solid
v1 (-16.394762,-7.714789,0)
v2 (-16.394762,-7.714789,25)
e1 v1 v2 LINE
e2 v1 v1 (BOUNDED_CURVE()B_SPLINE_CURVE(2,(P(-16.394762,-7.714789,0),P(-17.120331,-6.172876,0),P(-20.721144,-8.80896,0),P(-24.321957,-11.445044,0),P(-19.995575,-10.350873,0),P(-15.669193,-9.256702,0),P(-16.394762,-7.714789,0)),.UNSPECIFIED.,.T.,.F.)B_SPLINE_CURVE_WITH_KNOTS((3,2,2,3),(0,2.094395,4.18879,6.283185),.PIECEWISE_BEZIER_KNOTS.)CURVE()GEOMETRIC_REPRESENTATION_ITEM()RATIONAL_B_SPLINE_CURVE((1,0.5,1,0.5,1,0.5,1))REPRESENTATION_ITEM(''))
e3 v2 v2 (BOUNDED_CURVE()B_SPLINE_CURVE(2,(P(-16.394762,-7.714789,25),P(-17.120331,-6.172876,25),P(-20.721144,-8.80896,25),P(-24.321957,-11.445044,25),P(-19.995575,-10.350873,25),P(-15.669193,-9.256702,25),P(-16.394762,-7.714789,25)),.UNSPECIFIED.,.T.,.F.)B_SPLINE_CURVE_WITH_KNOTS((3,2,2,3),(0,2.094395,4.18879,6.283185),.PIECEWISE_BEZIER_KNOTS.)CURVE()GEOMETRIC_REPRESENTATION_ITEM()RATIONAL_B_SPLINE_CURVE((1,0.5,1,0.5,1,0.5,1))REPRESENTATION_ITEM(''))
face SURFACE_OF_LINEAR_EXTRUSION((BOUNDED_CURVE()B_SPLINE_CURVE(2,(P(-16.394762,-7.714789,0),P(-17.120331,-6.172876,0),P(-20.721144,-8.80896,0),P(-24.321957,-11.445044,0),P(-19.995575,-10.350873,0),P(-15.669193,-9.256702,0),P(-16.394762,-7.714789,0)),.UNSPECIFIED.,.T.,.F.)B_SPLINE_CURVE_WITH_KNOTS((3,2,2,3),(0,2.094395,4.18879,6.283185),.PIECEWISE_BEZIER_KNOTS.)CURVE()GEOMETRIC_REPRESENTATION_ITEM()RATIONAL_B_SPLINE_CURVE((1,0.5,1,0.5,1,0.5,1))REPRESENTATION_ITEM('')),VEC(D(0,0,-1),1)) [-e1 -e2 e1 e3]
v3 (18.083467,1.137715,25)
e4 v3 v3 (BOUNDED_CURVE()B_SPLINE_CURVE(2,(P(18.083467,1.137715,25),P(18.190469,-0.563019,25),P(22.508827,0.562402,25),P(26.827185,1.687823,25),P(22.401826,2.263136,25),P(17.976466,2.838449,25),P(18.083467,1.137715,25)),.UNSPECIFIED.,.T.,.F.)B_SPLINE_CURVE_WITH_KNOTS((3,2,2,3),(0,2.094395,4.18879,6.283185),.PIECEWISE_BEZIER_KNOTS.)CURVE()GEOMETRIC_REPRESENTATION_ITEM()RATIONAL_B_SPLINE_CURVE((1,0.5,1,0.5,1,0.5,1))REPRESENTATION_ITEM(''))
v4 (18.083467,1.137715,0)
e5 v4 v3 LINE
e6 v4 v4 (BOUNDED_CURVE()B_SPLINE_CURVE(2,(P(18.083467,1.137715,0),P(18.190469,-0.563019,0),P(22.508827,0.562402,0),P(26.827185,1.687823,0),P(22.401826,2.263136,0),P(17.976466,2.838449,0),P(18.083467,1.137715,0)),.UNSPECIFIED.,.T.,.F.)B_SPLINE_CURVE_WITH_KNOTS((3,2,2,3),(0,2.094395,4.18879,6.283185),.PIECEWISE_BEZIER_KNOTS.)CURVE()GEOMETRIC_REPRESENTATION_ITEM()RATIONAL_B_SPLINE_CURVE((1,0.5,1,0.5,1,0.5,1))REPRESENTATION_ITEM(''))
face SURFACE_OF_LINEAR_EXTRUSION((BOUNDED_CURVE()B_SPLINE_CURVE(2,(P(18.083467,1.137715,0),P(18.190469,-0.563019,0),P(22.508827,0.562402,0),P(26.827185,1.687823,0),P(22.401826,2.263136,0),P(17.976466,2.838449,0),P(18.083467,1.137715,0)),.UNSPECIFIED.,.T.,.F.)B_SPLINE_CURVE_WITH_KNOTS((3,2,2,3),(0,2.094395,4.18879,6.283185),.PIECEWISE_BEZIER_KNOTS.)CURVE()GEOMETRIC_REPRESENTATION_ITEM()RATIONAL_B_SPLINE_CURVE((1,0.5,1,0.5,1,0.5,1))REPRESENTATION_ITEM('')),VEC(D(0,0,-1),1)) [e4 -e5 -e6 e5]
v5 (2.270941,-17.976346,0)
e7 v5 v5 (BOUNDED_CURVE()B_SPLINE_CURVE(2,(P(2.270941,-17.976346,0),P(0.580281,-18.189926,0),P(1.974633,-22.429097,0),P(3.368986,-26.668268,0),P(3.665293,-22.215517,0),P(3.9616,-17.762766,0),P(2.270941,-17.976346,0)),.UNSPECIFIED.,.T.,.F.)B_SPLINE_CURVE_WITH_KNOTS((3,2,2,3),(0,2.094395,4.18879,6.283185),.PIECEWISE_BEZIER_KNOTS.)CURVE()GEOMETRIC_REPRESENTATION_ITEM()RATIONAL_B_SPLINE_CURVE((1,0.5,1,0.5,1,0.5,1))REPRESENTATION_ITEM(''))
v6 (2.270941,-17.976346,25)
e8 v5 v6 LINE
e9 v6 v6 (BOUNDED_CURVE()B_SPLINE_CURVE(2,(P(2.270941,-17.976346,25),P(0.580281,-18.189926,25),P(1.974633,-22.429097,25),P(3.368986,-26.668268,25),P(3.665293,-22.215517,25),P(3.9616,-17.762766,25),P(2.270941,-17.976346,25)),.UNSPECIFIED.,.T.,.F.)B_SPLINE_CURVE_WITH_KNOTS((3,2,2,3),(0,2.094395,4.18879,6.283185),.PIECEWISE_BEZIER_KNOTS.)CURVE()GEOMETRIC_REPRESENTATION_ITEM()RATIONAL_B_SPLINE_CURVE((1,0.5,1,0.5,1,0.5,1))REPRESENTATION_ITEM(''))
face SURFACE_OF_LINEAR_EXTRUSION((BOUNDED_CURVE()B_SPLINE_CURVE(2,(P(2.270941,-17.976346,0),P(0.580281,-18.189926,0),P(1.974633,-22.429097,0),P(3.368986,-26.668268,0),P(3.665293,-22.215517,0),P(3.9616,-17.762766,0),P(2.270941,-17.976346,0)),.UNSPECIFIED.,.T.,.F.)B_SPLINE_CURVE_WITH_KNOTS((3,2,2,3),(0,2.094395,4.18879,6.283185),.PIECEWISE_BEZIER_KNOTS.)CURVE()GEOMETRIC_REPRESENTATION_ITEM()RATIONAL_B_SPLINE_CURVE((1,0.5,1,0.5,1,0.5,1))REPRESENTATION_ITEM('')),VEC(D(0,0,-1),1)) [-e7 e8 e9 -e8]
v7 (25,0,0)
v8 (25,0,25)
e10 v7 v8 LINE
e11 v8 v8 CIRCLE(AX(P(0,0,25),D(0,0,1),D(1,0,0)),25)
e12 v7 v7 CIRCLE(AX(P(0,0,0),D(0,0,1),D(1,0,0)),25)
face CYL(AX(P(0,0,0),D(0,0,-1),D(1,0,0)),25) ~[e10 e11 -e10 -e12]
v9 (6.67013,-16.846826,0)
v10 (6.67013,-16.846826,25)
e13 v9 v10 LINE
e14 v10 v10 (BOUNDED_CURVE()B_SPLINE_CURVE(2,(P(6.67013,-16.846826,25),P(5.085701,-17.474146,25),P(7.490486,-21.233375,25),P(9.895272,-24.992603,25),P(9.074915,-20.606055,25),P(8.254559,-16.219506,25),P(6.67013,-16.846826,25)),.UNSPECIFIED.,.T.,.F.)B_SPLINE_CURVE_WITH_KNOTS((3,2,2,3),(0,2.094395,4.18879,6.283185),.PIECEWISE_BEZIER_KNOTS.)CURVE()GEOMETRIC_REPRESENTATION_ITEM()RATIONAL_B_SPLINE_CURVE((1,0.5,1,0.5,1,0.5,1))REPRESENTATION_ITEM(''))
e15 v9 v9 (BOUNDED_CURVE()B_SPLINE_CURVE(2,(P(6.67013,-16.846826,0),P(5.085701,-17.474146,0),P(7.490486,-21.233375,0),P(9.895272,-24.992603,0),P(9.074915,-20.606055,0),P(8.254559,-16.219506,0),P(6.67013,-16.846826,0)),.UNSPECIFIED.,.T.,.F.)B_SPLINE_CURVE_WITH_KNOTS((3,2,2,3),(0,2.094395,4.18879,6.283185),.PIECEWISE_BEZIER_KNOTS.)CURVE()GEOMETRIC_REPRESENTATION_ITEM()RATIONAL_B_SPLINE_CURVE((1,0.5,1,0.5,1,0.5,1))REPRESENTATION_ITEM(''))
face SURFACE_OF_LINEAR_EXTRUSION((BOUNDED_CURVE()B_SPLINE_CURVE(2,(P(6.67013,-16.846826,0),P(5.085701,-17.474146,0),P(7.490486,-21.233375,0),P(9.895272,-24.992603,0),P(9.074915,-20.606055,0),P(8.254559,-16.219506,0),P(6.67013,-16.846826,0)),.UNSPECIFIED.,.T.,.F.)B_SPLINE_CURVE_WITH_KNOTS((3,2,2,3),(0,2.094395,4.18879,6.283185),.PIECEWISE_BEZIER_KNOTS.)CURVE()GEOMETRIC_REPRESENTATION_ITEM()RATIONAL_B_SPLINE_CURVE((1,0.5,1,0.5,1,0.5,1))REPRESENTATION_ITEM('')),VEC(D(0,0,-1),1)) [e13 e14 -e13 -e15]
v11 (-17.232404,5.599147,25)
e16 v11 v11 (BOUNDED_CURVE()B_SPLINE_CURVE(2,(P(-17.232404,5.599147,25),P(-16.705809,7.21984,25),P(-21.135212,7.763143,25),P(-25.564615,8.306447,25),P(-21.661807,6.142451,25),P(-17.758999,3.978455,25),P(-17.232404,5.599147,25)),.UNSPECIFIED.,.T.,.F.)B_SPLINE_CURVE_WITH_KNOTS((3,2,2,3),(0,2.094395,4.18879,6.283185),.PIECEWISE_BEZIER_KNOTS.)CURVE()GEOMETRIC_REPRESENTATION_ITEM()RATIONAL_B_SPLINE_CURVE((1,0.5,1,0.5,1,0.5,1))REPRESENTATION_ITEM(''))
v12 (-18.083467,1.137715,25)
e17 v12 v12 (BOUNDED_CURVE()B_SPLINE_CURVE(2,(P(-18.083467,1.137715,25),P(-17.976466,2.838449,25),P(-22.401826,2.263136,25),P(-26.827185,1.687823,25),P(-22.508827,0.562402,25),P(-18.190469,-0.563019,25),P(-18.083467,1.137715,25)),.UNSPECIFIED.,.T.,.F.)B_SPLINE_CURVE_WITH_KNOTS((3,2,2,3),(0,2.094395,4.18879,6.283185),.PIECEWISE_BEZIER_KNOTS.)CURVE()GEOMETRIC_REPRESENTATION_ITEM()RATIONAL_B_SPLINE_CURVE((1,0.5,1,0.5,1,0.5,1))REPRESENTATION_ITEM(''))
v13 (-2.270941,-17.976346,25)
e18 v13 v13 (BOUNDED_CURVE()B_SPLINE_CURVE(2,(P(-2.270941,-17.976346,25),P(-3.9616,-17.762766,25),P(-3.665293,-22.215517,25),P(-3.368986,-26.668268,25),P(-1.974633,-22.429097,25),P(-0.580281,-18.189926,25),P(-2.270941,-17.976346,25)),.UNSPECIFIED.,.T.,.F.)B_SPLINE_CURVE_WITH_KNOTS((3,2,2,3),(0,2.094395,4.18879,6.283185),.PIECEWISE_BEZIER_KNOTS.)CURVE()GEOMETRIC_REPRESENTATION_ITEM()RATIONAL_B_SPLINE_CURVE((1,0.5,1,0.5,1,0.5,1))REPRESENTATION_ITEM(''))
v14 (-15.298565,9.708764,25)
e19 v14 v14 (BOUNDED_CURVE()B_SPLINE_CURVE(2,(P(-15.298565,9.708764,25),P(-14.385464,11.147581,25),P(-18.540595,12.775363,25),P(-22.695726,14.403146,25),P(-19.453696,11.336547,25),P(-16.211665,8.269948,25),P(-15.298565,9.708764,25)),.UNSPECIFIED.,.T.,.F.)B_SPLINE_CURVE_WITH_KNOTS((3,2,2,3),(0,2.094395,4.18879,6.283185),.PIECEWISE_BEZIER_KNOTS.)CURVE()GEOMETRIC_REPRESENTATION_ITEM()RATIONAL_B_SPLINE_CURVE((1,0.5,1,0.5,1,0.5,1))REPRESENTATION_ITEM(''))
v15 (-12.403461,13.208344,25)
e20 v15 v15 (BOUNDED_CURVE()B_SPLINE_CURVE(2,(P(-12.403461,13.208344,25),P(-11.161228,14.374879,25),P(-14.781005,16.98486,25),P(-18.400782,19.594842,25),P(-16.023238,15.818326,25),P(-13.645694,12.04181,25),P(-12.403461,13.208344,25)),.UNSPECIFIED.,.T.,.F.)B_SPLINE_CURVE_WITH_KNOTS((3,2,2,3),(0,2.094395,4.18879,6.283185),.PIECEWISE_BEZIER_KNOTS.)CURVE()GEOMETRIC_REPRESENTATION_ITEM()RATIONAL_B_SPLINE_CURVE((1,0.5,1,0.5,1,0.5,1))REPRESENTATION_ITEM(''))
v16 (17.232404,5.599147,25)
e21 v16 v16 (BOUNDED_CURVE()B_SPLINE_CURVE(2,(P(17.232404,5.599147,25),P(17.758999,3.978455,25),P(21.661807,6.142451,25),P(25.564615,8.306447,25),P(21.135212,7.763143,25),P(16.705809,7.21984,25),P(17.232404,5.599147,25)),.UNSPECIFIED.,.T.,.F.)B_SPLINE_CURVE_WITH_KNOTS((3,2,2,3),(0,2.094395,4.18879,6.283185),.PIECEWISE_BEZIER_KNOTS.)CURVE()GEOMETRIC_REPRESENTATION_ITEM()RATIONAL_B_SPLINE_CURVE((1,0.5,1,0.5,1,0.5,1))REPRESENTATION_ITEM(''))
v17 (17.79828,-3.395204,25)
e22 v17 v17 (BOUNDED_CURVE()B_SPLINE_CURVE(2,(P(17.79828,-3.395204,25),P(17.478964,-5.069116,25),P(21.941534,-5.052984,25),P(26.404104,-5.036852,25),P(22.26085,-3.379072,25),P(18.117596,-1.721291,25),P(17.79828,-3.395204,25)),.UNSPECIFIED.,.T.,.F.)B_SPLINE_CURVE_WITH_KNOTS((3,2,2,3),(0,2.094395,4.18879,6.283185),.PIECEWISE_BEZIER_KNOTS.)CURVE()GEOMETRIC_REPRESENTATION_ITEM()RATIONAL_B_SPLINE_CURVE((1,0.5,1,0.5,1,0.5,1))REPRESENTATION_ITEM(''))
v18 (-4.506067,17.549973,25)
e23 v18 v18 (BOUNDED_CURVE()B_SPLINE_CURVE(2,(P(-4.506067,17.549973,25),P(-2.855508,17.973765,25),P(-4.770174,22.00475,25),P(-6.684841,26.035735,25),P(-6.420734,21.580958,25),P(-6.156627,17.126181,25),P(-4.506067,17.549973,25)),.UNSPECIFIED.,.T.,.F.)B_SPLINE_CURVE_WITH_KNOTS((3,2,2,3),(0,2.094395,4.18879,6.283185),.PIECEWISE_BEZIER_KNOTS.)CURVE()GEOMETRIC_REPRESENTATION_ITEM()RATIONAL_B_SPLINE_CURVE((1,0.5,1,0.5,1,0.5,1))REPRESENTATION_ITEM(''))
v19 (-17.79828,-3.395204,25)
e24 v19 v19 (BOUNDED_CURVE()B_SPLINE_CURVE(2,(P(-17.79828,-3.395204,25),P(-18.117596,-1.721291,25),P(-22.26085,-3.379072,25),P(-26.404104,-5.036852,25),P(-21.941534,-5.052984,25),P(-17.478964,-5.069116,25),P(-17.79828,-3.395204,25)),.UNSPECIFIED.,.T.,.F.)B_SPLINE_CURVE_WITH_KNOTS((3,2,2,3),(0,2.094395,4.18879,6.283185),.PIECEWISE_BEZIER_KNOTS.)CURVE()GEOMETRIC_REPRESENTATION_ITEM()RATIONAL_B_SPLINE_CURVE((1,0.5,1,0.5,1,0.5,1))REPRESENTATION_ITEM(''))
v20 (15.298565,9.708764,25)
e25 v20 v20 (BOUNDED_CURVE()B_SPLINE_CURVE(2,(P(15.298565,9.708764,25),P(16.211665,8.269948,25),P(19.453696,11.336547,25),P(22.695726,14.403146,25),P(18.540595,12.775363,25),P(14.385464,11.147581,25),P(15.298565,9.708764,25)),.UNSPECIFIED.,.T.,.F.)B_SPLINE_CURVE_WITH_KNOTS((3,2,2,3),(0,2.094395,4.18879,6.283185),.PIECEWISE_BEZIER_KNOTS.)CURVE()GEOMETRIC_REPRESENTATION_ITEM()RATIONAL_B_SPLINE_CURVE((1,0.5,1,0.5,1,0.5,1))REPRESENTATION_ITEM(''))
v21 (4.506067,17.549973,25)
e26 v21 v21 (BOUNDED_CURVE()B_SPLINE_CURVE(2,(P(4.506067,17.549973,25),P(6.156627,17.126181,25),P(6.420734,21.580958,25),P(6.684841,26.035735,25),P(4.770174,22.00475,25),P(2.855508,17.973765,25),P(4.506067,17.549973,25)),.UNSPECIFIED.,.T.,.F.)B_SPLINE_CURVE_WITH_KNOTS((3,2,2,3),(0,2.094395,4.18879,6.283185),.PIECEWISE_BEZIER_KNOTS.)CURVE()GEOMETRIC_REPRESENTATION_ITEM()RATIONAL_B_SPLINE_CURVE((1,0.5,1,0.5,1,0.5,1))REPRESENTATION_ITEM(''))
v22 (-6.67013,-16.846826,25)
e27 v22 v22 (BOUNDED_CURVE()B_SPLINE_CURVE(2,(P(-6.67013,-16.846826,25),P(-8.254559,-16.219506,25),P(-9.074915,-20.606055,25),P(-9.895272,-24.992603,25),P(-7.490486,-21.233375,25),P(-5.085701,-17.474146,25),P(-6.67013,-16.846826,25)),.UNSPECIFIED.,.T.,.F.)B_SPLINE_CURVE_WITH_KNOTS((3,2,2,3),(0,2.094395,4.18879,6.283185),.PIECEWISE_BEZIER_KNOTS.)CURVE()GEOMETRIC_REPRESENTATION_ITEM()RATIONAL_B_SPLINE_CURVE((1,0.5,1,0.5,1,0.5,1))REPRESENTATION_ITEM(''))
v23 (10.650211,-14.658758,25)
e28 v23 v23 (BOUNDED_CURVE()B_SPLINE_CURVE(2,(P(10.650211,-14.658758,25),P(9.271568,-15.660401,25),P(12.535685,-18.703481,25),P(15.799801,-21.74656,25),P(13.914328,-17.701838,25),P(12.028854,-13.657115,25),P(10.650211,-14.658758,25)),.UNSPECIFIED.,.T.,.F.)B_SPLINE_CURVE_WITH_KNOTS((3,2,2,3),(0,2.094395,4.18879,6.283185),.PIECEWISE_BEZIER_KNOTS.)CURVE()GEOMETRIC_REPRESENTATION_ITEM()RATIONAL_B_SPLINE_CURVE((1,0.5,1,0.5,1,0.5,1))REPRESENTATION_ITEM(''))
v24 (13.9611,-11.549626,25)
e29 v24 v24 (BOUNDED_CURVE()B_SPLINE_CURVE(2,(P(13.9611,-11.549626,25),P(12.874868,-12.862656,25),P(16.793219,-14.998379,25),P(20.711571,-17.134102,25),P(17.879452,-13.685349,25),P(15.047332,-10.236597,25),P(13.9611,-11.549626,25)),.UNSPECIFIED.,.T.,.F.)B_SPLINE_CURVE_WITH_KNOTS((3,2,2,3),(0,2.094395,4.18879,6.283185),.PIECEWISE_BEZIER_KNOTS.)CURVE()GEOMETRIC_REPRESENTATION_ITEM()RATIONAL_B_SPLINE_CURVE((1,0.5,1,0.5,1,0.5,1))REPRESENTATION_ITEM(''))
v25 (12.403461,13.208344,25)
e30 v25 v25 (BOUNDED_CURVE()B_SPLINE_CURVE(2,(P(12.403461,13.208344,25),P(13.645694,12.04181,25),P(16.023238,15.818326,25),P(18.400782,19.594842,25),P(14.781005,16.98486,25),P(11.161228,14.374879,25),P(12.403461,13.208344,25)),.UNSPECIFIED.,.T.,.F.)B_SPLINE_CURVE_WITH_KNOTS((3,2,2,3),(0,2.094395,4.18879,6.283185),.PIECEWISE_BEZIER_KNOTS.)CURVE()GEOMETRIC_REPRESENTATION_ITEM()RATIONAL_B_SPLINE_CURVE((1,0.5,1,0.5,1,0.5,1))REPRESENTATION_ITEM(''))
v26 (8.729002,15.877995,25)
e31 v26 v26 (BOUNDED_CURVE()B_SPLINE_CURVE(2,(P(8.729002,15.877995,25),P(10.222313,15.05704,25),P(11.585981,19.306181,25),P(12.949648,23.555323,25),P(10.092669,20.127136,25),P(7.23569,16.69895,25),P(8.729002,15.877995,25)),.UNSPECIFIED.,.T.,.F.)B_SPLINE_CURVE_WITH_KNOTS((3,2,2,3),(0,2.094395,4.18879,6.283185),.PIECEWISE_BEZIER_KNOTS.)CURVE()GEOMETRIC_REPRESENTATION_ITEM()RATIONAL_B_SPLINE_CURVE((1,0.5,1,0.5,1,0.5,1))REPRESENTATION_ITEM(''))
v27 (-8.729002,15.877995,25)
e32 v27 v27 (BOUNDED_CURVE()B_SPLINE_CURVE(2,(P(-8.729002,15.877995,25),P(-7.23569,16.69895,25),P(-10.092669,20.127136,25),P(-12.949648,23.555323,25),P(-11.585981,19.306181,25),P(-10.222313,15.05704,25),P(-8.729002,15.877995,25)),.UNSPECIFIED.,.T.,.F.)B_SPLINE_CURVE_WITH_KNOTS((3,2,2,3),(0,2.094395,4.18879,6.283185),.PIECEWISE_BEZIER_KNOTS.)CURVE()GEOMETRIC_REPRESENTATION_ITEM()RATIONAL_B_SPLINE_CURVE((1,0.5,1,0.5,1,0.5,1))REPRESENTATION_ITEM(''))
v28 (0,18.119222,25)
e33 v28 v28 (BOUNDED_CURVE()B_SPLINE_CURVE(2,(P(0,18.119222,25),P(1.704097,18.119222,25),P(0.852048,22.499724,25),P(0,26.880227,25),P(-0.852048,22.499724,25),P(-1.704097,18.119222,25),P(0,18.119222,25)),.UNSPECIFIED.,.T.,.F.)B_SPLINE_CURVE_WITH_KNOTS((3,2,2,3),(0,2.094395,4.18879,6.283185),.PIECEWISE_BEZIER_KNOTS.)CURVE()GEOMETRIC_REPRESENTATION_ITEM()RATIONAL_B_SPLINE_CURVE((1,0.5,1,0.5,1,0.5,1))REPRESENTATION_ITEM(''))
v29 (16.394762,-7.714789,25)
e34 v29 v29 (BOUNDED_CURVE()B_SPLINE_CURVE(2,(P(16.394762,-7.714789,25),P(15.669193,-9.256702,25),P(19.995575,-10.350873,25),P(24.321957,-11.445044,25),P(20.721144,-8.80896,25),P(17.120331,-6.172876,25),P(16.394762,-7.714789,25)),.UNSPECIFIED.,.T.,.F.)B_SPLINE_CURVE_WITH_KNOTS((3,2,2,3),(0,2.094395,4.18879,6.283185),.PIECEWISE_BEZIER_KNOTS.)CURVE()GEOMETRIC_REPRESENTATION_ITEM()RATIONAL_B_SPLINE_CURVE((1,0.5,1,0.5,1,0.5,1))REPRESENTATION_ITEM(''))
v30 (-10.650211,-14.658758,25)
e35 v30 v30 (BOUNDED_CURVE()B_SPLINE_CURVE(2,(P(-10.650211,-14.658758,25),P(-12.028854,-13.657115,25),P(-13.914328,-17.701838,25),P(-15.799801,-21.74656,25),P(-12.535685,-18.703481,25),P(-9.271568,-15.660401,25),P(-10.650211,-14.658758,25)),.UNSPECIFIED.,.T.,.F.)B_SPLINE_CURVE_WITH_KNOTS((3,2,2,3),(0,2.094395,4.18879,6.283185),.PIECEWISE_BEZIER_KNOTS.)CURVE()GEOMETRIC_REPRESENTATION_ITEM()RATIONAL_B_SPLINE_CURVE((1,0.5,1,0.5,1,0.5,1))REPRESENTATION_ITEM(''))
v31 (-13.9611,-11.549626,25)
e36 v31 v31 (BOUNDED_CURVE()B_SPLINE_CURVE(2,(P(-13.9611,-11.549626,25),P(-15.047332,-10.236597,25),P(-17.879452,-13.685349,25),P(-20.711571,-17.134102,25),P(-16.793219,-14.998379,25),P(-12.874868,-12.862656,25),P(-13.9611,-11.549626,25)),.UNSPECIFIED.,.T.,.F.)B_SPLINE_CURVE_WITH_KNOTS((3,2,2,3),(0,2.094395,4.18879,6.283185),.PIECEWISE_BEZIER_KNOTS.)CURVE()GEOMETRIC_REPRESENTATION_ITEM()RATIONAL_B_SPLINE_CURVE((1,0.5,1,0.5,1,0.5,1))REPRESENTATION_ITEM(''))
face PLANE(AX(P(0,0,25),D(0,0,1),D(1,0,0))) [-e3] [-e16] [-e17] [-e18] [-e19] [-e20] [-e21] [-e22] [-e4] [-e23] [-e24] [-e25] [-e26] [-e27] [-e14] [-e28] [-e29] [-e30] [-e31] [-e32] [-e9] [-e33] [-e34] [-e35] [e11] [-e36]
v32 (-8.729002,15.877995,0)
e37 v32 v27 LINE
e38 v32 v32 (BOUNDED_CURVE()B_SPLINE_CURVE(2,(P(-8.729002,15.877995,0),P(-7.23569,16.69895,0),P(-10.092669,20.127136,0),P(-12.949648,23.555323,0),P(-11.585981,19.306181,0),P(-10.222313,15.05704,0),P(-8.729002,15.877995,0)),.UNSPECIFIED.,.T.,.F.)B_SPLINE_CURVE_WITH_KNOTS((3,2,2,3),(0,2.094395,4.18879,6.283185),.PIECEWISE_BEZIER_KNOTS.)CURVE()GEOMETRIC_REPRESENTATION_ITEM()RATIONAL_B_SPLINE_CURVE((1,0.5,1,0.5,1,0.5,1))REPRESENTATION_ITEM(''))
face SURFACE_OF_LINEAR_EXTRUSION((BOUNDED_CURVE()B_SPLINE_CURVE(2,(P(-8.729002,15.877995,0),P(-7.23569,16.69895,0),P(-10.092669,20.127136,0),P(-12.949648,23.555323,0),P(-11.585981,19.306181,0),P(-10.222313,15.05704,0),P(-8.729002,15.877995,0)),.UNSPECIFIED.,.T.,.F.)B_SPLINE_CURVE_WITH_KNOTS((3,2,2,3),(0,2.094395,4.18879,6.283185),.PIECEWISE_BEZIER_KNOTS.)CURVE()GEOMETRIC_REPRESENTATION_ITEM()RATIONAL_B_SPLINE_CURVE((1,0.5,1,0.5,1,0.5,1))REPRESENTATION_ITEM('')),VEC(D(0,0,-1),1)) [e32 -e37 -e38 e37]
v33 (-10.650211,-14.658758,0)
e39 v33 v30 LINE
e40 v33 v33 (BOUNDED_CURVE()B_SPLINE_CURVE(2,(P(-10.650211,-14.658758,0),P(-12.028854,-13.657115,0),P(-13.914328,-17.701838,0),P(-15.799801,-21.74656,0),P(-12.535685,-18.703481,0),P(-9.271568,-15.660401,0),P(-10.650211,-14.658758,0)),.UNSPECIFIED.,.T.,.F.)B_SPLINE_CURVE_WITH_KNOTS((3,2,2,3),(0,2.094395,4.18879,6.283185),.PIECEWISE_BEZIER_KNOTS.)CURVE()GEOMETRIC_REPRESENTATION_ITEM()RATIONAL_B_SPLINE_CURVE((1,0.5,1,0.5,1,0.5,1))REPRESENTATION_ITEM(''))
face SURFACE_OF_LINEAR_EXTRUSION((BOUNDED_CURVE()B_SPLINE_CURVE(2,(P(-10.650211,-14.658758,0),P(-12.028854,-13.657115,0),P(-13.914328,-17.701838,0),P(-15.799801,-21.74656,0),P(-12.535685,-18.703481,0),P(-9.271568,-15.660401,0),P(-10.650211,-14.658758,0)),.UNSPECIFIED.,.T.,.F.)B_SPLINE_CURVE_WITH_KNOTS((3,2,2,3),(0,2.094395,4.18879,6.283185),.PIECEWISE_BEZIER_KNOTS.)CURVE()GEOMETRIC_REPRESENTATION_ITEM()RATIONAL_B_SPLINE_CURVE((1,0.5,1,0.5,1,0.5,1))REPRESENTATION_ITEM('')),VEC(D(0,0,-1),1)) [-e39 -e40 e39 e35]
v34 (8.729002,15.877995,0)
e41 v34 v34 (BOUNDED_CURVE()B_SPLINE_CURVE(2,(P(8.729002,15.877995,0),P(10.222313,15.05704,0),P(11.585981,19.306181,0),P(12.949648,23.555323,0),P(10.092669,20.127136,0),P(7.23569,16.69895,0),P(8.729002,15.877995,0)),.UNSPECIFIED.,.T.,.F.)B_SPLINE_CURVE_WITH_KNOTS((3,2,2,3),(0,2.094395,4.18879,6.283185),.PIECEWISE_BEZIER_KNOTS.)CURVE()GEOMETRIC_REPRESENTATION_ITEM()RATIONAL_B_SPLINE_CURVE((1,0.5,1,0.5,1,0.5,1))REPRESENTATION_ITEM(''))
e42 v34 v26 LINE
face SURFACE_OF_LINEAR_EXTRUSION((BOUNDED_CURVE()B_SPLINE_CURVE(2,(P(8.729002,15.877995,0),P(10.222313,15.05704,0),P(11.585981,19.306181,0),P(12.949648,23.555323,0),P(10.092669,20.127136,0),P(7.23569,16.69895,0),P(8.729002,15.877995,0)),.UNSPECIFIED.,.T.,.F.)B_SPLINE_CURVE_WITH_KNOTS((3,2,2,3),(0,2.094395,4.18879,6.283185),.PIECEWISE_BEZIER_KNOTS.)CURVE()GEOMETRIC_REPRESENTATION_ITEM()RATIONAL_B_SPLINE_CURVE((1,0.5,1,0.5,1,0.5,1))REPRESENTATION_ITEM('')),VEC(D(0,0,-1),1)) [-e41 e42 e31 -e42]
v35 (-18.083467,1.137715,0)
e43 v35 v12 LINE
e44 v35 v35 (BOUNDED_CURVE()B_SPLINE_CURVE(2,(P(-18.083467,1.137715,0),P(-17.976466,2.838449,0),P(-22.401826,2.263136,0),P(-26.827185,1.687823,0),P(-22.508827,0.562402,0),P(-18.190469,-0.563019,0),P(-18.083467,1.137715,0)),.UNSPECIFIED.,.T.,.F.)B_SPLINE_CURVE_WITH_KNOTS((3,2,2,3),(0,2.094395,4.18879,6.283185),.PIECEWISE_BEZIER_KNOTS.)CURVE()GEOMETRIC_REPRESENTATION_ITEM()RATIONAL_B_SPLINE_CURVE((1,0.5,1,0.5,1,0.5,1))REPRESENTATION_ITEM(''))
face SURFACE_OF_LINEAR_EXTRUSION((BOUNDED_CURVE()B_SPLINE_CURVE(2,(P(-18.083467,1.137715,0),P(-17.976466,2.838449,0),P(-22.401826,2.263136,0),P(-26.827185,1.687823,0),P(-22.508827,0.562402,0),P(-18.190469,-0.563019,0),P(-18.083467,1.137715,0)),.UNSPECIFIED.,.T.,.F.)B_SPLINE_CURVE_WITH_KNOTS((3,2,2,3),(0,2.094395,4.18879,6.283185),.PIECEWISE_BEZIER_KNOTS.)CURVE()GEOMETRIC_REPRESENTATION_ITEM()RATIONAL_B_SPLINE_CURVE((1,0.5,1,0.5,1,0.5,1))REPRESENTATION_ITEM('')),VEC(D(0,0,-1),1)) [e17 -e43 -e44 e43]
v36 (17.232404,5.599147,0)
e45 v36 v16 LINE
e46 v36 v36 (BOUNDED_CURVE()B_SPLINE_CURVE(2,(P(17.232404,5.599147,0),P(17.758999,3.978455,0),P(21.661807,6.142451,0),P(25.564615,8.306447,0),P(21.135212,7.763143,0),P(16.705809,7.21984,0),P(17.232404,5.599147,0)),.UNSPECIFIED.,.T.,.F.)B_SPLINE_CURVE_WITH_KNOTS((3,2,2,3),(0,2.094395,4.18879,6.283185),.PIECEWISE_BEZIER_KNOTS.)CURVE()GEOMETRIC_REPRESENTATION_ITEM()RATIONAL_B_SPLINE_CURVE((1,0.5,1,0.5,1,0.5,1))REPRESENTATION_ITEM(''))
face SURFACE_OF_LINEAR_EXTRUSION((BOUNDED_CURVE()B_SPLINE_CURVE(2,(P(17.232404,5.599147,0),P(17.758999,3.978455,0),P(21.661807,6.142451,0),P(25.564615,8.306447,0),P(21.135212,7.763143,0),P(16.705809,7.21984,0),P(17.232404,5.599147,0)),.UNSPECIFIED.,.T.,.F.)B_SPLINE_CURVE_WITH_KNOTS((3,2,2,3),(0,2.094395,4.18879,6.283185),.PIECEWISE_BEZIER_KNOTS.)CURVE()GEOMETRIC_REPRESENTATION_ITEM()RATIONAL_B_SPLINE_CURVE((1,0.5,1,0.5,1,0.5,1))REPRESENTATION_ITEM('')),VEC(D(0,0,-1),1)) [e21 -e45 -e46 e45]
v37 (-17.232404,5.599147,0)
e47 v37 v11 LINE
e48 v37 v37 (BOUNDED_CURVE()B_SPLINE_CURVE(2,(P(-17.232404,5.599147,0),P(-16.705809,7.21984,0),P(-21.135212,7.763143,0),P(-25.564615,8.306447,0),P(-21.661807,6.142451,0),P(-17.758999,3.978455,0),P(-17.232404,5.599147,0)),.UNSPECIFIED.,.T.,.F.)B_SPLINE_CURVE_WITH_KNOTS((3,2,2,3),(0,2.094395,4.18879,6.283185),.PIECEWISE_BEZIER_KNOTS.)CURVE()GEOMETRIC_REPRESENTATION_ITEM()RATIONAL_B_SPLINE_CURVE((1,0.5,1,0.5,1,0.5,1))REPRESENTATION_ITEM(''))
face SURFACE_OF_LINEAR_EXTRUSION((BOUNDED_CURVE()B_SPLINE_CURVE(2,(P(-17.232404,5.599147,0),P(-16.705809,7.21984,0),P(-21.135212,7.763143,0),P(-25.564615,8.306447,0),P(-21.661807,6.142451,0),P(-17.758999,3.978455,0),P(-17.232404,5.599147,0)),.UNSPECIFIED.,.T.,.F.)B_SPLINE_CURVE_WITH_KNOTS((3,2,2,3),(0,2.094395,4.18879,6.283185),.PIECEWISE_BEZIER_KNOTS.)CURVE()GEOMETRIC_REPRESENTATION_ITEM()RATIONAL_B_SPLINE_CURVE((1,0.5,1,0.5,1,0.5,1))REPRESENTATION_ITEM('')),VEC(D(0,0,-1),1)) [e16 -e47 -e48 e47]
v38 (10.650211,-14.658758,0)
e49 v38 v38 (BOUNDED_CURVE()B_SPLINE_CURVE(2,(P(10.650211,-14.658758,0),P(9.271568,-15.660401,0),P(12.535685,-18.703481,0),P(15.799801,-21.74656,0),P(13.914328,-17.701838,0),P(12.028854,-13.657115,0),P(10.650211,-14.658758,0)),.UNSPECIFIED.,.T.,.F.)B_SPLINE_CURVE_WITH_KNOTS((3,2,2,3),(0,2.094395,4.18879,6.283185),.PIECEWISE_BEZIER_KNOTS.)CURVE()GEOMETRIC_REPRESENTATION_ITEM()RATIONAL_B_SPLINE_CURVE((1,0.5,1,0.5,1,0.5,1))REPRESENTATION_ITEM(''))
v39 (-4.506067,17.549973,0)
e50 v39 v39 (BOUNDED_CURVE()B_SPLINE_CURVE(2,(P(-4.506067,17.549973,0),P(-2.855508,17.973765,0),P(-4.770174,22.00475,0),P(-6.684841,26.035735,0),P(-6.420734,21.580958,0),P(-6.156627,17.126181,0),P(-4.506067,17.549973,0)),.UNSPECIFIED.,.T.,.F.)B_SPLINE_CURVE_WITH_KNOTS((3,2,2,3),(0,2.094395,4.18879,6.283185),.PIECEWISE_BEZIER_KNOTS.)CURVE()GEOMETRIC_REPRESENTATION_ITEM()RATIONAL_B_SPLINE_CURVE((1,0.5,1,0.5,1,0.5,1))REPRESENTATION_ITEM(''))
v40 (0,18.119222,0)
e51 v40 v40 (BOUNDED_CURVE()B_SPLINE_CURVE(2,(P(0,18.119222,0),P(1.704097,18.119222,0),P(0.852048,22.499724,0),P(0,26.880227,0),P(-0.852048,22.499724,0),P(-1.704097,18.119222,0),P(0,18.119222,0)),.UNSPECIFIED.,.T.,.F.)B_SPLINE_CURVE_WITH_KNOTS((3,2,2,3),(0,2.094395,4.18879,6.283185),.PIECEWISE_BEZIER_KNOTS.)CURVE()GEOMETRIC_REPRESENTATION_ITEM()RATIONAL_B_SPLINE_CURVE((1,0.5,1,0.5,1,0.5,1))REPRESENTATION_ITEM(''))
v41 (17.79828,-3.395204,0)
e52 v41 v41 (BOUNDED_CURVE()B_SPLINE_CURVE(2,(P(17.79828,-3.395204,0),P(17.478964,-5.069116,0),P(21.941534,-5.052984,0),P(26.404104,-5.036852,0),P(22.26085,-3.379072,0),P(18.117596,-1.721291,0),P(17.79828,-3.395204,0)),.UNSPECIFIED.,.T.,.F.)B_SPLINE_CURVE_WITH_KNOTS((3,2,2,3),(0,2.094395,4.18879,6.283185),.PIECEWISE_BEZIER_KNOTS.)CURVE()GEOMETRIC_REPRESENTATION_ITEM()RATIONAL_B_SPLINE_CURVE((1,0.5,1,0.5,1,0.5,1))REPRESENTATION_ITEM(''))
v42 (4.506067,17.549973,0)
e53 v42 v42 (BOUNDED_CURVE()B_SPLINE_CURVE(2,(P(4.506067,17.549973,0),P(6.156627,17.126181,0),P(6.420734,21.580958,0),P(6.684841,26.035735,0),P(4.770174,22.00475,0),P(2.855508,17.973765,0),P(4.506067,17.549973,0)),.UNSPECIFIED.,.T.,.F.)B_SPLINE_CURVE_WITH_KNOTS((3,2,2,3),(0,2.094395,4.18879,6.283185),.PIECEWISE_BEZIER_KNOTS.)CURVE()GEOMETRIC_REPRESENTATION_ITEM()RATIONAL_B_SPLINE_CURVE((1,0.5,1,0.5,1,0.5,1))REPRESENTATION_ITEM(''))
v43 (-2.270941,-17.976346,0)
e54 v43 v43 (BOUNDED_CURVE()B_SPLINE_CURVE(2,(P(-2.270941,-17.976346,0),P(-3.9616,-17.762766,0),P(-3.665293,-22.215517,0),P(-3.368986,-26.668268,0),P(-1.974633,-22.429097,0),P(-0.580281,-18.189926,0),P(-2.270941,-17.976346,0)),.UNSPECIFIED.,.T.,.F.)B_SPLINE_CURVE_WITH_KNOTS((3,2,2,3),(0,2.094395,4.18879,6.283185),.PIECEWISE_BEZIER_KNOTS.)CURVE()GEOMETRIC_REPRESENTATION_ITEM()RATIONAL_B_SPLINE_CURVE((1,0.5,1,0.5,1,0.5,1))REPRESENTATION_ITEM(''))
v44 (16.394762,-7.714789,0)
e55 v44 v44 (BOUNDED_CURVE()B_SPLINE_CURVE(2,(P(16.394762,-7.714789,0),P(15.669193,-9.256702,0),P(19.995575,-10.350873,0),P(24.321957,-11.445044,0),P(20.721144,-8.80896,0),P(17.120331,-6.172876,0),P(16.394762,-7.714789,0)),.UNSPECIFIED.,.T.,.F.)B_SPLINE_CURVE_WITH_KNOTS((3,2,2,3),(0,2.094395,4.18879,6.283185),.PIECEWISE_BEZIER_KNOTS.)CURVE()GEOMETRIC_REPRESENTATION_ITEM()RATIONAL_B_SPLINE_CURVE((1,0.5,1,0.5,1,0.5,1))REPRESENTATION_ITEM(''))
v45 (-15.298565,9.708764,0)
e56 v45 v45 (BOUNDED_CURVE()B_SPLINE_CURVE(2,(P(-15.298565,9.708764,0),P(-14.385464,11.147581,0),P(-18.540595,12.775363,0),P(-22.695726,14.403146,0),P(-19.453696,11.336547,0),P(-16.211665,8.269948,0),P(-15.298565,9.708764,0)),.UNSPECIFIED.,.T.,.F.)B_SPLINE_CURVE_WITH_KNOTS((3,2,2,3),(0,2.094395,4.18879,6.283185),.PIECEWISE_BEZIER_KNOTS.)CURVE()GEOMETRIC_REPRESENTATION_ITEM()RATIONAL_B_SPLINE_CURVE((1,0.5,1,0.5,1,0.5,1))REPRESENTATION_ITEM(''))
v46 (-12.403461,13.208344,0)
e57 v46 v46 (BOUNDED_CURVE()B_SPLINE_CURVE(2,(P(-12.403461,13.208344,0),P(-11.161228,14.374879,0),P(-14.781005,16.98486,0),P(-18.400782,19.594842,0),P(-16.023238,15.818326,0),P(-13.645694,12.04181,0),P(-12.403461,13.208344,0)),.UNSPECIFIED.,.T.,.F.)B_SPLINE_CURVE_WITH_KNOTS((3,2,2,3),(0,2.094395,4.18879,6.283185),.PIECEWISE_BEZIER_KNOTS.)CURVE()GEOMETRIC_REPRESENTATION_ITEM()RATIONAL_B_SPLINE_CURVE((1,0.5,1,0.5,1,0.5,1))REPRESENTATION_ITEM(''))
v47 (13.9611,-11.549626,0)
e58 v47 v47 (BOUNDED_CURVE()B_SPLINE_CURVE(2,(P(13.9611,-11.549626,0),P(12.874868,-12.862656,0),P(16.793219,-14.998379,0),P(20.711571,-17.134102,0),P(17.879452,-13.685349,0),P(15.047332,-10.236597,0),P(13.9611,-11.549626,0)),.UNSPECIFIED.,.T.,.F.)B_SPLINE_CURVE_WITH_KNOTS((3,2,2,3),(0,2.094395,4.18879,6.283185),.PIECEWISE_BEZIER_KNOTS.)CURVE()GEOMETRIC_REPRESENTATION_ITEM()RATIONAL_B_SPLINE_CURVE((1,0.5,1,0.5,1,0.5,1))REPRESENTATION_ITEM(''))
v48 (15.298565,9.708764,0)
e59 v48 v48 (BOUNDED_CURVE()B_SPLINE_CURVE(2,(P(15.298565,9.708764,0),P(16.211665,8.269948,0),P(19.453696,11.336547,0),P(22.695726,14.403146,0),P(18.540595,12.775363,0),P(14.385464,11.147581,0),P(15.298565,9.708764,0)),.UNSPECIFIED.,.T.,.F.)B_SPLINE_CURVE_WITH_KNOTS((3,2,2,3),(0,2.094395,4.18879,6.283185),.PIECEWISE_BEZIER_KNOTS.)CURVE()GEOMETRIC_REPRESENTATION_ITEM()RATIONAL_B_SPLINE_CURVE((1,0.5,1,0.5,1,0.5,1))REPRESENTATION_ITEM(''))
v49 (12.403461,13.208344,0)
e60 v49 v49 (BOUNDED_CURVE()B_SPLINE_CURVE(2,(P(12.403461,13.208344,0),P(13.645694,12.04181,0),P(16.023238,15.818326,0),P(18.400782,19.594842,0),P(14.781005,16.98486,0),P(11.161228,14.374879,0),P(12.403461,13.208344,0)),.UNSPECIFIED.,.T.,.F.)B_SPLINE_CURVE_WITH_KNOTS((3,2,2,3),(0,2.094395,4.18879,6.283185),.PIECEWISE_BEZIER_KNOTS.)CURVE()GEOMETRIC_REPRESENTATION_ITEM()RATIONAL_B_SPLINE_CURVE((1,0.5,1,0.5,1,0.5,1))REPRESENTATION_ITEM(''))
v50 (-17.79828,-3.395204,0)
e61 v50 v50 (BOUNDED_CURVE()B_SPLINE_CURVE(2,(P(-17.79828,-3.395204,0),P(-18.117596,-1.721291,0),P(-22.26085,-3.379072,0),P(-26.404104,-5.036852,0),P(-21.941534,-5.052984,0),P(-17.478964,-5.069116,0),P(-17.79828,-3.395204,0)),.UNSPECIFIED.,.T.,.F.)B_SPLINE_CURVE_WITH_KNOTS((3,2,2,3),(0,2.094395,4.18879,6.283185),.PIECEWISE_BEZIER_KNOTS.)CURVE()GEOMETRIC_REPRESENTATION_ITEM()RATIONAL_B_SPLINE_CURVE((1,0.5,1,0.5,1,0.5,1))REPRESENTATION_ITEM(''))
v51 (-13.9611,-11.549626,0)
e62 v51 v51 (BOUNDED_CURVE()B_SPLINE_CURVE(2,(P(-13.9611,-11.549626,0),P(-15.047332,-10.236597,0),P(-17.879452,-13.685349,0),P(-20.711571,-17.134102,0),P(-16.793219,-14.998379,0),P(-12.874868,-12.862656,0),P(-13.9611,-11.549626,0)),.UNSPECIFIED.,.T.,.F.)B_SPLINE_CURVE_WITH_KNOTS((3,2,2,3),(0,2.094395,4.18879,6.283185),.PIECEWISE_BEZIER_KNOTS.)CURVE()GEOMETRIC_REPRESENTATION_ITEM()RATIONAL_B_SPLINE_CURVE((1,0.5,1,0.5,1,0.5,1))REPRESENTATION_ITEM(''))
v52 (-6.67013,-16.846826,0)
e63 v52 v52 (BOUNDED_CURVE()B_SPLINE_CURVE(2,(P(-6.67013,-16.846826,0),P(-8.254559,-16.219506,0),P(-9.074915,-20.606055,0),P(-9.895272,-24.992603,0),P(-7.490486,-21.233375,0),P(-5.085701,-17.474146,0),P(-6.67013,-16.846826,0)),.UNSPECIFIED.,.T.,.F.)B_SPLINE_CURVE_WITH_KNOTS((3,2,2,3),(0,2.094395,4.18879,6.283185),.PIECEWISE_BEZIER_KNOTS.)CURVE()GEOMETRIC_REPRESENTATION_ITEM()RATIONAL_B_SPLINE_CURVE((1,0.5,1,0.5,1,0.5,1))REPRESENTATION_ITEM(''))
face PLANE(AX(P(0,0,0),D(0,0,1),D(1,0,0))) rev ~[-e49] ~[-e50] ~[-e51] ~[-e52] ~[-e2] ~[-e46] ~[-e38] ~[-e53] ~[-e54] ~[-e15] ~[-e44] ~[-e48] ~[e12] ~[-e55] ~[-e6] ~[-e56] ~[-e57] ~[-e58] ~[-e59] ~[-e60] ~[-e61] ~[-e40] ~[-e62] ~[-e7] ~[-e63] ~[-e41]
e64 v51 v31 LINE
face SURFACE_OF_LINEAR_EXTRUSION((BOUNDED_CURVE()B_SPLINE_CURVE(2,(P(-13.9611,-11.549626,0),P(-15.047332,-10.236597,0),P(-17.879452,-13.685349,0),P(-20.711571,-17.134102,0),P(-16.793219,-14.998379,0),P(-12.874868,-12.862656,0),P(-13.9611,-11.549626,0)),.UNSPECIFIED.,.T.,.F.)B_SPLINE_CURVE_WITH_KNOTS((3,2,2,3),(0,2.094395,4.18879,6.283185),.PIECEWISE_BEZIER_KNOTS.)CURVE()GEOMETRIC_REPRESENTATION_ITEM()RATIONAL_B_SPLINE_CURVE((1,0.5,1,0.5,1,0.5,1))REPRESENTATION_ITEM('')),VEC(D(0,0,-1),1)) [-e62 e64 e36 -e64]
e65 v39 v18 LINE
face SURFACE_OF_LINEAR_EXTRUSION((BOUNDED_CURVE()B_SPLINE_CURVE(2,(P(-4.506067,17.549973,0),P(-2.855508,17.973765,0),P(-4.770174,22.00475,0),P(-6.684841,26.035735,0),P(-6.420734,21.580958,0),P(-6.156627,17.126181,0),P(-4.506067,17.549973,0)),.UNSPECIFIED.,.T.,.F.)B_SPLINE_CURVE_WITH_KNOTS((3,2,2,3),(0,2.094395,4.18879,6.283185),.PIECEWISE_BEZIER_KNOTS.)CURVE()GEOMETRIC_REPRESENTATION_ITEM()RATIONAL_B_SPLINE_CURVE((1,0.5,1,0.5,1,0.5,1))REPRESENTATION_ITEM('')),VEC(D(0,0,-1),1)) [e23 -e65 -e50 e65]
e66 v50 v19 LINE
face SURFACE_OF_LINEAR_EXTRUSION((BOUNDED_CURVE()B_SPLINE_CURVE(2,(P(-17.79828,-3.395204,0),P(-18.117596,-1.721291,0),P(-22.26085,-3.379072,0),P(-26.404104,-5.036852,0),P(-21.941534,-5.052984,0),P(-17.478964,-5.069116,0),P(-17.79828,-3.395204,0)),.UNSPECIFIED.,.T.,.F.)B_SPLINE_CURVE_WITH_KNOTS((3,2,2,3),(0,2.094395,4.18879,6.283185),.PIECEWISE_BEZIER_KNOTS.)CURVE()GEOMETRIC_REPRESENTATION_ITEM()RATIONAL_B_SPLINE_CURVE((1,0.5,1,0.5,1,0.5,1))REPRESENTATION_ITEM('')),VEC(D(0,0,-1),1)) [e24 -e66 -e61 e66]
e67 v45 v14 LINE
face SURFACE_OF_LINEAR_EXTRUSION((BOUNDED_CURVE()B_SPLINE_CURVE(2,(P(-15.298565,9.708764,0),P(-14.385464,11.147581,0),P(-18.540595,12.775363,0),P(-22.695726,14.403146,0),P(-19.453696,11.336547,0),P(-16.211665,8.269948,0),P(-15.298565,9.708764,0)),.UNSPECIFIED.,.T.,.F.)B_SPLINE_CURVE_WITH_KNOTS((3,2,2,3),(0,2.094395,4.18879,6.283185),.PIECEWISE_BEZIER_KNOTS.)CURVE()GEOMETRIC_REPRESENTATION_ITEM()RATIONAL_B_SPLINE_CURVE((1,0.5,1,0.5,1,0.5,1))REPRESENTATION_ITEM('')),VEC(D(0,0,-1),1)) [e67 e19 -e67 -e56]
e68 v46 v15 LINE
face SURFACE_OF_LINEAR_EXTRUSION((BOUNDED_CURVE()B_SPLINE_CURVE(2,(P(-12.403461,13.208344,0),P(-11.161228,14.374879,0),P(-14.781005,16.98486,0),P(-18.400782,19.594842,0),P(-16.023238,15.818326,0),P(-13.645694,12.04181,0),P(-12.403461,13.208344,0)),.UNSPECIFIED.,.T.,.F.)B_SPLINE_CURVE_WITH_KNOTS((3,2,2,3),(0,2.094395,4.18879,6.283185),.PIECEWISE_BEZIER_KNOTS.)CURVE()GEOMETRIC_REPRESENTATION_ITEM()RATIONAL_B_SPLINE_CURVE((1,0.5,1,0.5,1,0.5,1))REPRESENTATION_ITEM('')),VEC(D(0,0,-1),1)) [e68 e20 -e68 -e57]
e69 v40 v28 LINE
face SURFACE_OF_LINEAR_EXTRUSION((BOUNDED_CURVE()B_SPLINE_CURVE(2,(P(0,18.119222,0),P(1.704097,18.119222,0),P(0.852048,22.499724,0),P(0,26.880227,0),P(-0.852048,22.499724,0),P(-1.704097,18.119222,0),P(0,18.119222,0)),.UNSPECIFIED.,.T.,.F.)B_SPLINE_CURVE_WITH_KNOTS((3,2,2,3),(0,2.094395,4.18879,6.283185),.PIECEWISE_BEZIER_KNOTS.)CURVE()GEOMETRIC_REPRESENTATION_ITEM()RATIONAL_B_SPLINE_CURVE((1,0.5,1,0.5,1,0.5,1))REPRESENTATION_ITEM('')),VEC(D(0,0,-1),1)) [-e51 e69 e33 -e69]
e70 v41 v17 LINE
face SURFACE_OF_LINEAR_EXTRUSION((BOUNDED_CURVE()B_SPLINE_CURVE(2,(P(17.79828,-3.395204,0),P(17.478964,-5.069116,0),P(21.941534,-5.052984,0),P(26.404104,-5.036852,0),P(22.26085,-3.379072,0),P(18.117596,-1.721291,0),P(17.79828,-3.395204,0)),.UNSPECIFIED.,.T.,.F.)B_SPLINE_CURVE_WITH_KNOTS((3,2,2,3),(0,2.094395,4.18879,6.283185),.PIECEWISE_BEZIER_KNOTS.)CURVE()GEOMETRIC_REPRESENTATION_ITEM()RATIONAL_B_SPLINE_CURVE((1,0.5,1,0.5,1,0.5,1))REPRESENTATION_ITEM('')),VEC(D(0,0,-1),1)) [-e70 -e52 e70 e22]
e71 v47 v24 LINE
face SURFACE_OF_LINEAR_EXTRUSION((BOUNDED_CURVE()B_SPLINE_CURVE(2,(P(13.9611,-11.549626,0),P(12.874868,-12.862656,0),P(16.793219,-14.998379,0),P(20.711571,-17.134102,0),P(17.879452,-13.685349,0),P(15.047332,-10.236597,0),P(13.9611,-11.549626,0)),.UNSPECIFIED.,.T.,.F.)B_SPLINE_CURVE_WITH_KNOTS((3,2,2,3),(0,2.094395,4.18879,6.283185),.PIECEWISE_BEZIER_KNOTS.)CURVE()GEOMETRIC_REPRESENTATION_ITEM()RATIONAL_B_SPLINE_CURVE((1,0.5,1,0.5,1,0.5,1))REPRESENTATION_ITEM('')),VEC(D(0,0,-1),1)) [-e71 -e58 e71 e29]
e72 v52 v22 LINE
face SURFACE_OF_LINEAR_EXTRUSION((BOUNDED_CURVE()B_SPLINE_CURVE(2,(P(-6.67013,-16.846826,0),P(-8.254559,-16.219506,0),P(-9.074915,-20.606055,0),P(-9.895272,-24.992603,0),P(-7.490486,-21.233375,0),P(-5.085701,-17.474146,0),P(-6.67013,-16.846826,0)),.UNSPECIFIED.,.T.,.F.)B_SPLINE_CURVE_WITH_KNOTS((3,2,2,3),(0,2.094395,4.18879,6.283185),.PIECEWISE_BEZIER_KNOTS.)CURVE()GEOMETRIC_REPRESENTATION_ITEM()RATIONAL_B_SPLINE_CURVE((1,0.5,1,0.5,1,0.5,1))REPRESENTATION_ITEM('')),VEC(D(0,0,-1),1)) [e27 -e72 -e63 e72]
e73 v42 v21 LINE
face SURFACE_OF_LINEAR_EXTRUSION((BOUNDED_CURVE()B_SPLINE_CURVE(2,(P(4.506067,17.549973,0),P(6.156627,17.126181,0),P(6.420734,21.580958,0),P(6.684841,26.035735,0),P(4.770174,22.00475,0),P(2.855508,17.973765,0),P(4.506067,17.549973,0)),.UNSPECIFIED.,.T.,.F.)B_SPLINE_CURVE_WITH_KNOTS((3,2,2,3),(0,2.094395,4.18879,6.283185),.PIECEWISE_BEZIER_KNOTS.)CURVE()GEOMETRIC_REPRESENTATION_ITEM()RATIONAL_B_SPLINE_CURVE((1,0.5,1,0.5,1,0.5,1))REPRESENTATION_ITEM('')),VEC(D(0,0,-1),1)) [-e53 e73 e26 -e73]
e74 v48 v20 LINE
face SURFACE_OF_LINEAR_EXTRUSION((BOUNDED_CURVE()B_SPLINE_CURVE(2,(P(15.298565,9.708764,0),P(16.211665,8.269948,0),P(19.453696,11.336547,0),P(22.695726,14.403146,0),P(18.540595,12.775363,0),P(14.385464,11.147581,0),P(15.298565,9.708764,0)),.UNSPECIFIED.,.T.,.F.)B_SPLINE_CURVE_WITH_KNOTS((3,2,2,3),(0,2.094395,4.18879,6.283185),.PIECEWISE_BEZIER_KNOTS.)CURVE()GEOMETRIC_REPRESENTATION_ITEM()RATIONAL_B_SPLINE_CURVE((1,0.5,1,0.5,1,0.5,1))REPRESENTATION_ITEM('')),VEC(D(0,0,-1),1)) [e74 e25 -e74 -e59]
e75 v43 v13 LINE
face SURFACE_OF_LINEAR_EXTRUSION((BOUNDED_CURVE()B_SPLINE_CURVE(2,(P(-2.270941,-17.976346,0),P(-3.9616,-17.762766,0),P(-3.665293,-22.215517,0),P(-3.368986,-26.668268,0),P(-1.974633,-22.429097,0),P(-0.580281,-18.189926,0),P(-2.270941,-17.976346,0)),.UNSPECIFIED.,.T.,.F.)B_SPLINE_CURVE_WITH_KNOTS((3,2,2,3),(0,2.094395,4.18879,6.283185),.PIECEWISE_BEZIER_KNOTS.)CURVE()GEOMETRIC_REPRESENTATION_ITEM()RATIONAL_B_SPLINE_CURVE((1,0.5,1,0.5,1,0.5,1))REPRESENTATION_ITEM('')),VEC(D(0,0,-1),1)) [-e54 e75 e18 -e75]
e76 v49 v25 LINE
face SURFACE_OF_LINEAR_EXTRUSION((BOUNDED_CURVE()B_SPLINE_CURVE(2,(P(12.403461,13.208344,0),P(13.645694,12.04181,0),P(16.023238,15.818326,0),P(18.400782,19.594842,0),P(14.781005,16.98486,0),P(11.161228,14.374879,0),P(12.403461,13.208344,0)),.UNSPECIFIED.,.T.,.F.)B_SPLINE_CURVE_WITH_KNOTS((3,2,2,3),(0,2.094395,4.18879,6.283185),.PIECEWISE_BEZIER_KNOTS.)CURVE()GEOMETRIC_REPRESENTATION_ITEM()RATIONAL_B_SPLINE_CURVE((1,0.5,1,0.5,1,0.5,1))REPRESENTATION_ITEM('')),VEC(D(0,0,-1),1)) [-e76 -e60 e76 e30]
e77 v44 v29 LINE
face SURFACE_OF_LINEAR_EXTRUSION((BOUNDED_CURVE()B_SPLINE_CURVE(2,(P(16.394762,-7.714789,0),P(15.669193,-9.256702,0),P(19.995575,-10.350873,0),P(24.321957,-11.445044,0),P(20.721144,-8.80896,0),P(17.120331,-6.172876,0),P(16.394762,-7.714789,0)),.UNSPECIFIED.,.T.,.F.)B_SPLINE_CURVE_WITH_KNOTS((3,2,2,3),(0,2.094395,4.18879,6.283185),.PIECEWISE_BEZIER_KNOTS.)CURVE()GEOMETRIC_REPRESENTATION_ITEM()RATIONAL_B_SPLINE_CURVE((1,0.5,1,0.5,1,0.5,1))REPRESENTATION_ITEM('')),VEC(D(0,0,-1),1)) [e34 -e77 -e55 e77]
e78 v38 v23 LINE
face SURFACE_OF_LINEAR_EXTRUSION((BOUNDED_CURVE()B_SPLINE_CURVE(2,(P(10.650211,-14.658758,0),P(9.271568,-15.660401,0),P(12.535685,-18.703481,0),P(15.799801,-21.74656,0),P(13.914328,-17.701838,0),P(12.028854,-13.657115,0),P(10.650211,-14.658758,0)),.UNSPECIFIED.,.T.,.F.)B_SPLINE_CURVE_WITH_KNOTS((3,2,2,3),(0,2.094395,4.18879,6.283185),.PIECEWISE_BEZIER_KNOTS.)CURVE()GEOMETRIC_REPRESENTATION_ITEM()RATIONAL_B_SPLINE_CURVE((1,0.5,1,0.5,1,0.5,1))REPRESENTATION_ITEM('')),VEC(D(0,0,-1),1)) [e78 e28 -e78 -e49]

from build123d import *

# Parameters (mm, degrees)
F0_R     = 25
F1_DEPTH = 25


with BuildPart() as f1:
    # F0 (on Top) → F1 (new body)
    with BuildSketch(Plane.XY):
        Circle(F0_R)
        with BuildLine():
            add(Edge.make_bspline(
                [(-13.9611, -11.549626), (-15.047332, -10.236597), (-17.879452, -13.685349), (-20.711571, -17.134102), (-16.793219, -14.998379), (-12.874868, -12.862656), (-13.9611, -11.549626)],
                knots=[0, 0, 0, 2.094395, 2.094395, 4.18879, 4.18879, 6.283185, 6.283185, 6.283185], degree=2, weights=[1, 0.5, 1, 0.5, 1, 0.5, 1]))
        make_face(mode=Mode.SUBTRACT)
        with BuildLine():
            add(Edge.make_bspline(
                [(-6.67013, -16.846826), (-8.254559, -16.219506), (-9.074915, -20.606055), (-9.895272, -24.992603), (-7.490486, -21.233375), (-5.085701, -17.474146), (-6.67013, -16.846826)],
                knots=[0, 0, 0, 2.094395, 2.094395, 4.18879, 4.18879, 6.283185, 6.283185, 6.283185], degree=2, weights=[1, 0.5, 1, 0.5, 1, 0.5, 1]))
        make_face(mode=Mode.SUBTRACT)
        with BuildLine():
            add(Edge.make_bspline(
                [(-2.270941, -17.976346), (-3.9616, -17.762766), (-3.665293, -22.215517), (-3.368986, -26.668268), (-1.974633, -22.429097), (-0.580281, -18.189926), (-2.270941, -17.976346)],
                knots=[0, 0, 0, 2.094395, 2.094395, 4.18879, 4.18879, 6.283185, 6.283185, 6.283185], degree=2, weights=[1, 0.5, 1, 0.5, 1, 0.5, 1]))
        make_face(mode=Mode.SUBTRACT)
        with BuildLine():
            add(Edge.make_bspline(
                [(-10.650211, -14.658758), (-12.028854, -13.657115), (-13.914328, -17.701838), (-15.799801, -21.74656), (-12.535685, -18.703481), (-9.271568, -15.660401), (-10.650211, -14.658758)],
                knots=[0, 0, 0, 2.094395, 2.094395, 4.18879, 4.18879, 6.283185, 6.283185, 6.283185], degree=2, weights=[1, 0.5, 1, 0.5, 1, 0.5, 1]))
        make_face(mode=Mode.SUBTRACT)
        with BuildLine():
            add(Edge.make_bspline(
                [(-16.394762, -7.714789), (-17.120331, -6.172876), (-20.721144, -8.80896), (-24.321957, -11.445044), (-19.995575, -10.350873), (-15.669193, -9.256702), (-16.394762, -7.714789)],
                knots=[0, 0, 0, 2.094395, 2.094395, 4.18879, 4.18879, 6.283185, 6.283185, 6.283185], degree=2, weights=[1, 0.5, 1, 0.5, 1, 0.5, 1]))
        make_face(mode=Mode.SUBTRACT)
        with BuildLine():
            add(Edge.make_bspline(
                [(-17.79828, -3.395204), (-18.117596, -1.721291), (-22.26085, -3.379072), (-26.404104, -5.036852), (-21.941534, -5.052984), (-17.478964, -5.069116), (-17.79828, -3.395204)],
                knots=[0, 0, 0, 2.094395, 2.094395, 4.18879, 4.18879, 6.283185, 6.283185, 6.283185], degree=2, weights=[1, 0.5, 1, 0.5, 1, 0.5, 1]))
        make_face(mode=Mode.SUBTRACT)
        with BuildLine():
            add(Edge.make_bspline(
                [(2.270941, -17.976346), (0.580281, -18.189926), (1.974633, -22.429097), (3.368986, -26.668268), (3.665293, -22.215517), (3.9616, -17.762766), (2.270941, -17.976346)],
                knots=[0, 0, 0, 2.094395, 2.094395, 4.18879, 4.18879, 6.283185, 6.283185, 6.283185], degree=2, weights=[1, 0.5, 1, 0.5, 1, 0.5, 1]))
        make_face(mode=Mode.SUBTRACT)
        with BuildLine():
            add(Edge.make_bspline(
                [(6.67013, -16.846826), (5.085701, -17.474146), (7.490486, -21.233375), (9.895272, -24.992603), (9.074915, -20.606055), (8.254559, -16.219506), (6.67013, -16.846826)],
                knots=[0, 0, 0, 2.094395, 2.094395, 4.18879, 4.18879, 6.283185, 6.283185, 6.283185], degree=2, weights=[1, 0.5, 1, 0.5, 1, 0.5, 1]))
        make_face(mode=Mode.SUBTRACT)
        with BuildLine():
            add(Edge.make_bspline(
                [(10.650211, -14.658758), (9.271568, -15.660401), (12.535685, -18.703481), (15.799801, -21.74656), (13.914328, -17.701838), (12.028854, -13.657115), (10.650211, -14.658758)],
                knots=[0, 0, 0, 2.094395, 2.094395, 4.18879, 4.18879, 6.283185, 6.283185, 6.283185], degree=2, weights=[1, 0.5, 1, 0.5, 1, 0.5, 1]))
        make_face(mode=Mode.SUBTRACT)
        with BuildLine():
            add(Edge.make_bspline(
                [(13.9611, -11.549626), (12.874868, -12.862656), (16.793219, -14.998379), (20.711571, -17.134102), (17.879452, -13.685349), (15.047332, -10.236597), (13.9611, -11.549626)],
                knots=[0, 0, 0, 2.094395, 2.094395, 4.18879, 4.18879, 6.283185, 6.283185, 6.283185], degree=2, weights=[1, 0.5, 1, 0.5, 1, 0.5, 1]))
        make_face(mode=Mode.SUBTRACT)
        with BuildLine():
            add(Edge.make_bspline(
                [(16.394762, -7.714789), (15.669193, -9.256702), (19.995575, -10.350873), (24.321957, -11.445044), (20.721144, -8.80896), (17.120331, -6.172876), (16.394762, -7.714789)],
                knots=[0, 0, 0, 2.094395, 2.094395, 4.18879, 4.18879, 6.283185, 6.283185, 6.283185], degree=2, weights=[1, 0.5, 1, 0.5, 1, 0.5, 1]))
        make_face(mode=Mode.SUBTRACT)
        with BuildLine():
            add(Edge.make_bspline(
                [(17.79828, -3.395204), (17.478964, -5.069116), (21.941534, -5.052984), (26.404104, -5.036852), (22.26085, -3.379072), (18.117596, -1.721291), (17.79828, -3.395204)],
                knots=[0, 0, 0, 2.094395, 2.094395, 4.18879, 4.18879, 6.283185, 6.283185, 6.283185], degree=2, weights=[1, 0.5, 1, 0.5, 1, 0.5, 1]))
        make_face(mode=Mode.SUBTRACT)
        with BuildLine():
            add(Edge.make_bspline(
                [(-18.083467, 1.137715), (-17.976466, 2.838449), (-22.401826, 2.263136), (-26.827185, 1.687823), (-22.508827, 0.562402), (-18.190469, -0.563019), (-18.083467, 1.137715)],
                knots=[0, 0, 0, 2.094395, 2.094395, 4.18879, 4.18879, 6.283185, 6.283185, 6.283185], degree=2, weights=[1, 0.5, 1, 0.5, 1, 0.5, 1]))
        make_face(mode=Mode.SUBTRACT)
        with BuildLine():
            add(Edge.make_bspline(
                [(-17.232404, 5.599147), (-16.705809, 7.21984), (-21.135212, 7.763143), (-25.564615, 8.306447), (-21.661807, 6.142451), (-17.758999, 3.978455), (-17.232404, 5.599147)],
                knots=[0, 0, 0, 2.094395, 2.094395, 4.18879, 4.18879, 6.283185, 6.283185, 6.283185], degree=2, weights=[1, 0.5, 1, 0.5, 1, 0.5, 1]))
        make_face(mode=Mode.SUBTRACT)
        with BuildLine():
            add(Edge.make_bspline(
                [(-15.298565, 9.708764), (-14.385464, 11.147581), (-18.540595, 12.775363), (-22.695726, 14.403146), (-19.453696, 11.336547), (-16.211665, 8.269948), (-15.298565, 9.708764)],
                knots=[0, 0, 0, 2.094395, 2.094395, 4.18879, 4.18879, 6.283185, 6.283185, 6.283185], degree=2, weights=[1, 0.5, 1, 0.5, 1, 0.5, 1]))
        make_face(mode=Mode.SUBTRACT)
        with BuildLine():
            add(Edge.make_bspline(
                [(-12.403461, 13.208344), (-11.161228, 14.374879), (-14.781005, 16.98486), (-18.400782, 19.594842), (-16.023238, 15.818326), (-13.645694, 12.04181), (-12.403461, 13.208344)],
                knots=[0, 0, 0, 2.094395, 2.094395, 4.18879, 4.18879, 6.283185, 6.283185, 6.283185], degree=2, weights=[1, 0.5, 1, 0.5, 1, 0.5, 1]))
        make_face(mode=Mode.SUBTRACT)
        with BuildLine():
            add(Edge.make_bspline(
                [(-8.729002, 15.877995), (-7.23569, 16.69895), (-10.092669, 20.127136), (-12.949648, 23.555323), (-11.585981, 19.306181), (-10.222313, 15.05704), (-8.729002, 15.877995)],
                knots=[0, 0, 0, 2.094395, 2.094395, 4.18879, 4.18879, 6.283185, 6.283185, 6.283185], degree=2, weights=[1, 0.5, 1, 0.5, 1, 0.5, 1]))
        make_face(mode=Mode.SUBTRACT)
        with BuildLine():
            add(Edge.make_bspline(
                [(-4.506067, 17.549973), (-2.855508, 17.973765), (-4.770174, 22.00475), (-6.684841, 26.035735), (-6.420734, 21.580958), (-6.156627, 17.126181), (-4.506067, 17.549973)],
                knots=[0, 0, 0, 2.094395, 2.094395, 4.18879, 4.18879, 6.283185, 6.283185, 6.283185], degree=2, weights=[1, 0.5, 1, 0.5, 1, 0.5, 1]))
        make_face(mode=Mode.SUBTRACT)
        with BuildLine():
            add(Edge.make_bspline(
                [(18.083467, 1.137715), (18.190469, -0.563019), (22.508827, 0.562402), (26.827185, 1.687823), (22.401826, 2.263136), (17.976466, 2.838449), (18.083467, 1.137715)],
                knots=[0, 0, 0, 2.094395, 2.094395, 4.18879, 4.18879, 6.283185, 6.283185, 6.283185], degree=2, weights=[1, 0.5, 1, 0.5, 1, 0.5, 1]))
        make_face(mode=Mode.SUBTRACT)
        with BuildLine():
            add(Edge.make_bspline(
                [(15.298565, 9.708764), (16.211665, 8.269948), (19.453696, 11.336547), (22.695726, 14.403146), (18.540595, 12.775363), (14.385464, 11.147581), (15.298565, 9.708764)],
                knots=[0, 0, 0, 2.094395, 2.094395, 4.18879, 4.18879, 6.283185, 6.283185, 6.283185], degree=2, weights=[1, 0.5, 1, 0.5, 1, 0.5, 1]))
        make_face(mode=Mode.SUBTRACT)
        with BuildLine():
            add(Edge.make_bspline(
                [(17.232404, 5.599147), (17.758999, 3.978455), (21.661807, 6.142451), (25.564615, 8.306447), (21.135212, 7.763143), (16.705809, 7.21984), (17.232404, 5.599147)],
                knots=[0, 0, 0, 2.094395, 2.094395, 4.18879, 4.18879, 6.283185, 6.283185, 6.283185], degree=2, weights=[1, 0.5, 1, 0.5, 1, 0.5, 1]))
        make_face(mode=Mode.SUBTRACT)
        with BuildLine():
            add(Edge.make_bspline(
                [(8.729002, 15.877995), (10.222313, 15.05704), (11.585981, 19.306181), (12.949648, 23.555323), (10.092669, 20.127136), (7.23569, 16.69895), (8.729002, 15.877995)],
                knots=[0, 0, 0, 2.094395, 2.094395, 4.18879, 4.18879, 6.283185, 6.283185, 6.283185], degree=2, weights=[1, 0.5, 1, 0.5, 1, 0.5, 1]))
        make_face(mode=Mode.SUBTRACT)
        with BuildLine():
            add(Edge.make_bspline(
                [(0, 18.119222), (1.704097, 18.119222), (0.852048, 22.499724), (0, 26.880227), (-0.852048, 22.499724), (-1.704097, 18.119222), (0, 18.119222)],
                knots=[0, 0, 0, 2.094395, 2.094395, 4.18879, 4.18879, 6.283185, 6.283185, 6.283185], degree=2, weights=[1, 0.5, 1, 0.5, 1, 0.5, 1]))
        make_face(mode=Mode.SUBTRACT)
        with BuildLine():
            add(Edge.make_bspline(
                [(4.506067, 17.549973), (6.156627, 17.126181), (6.420734, 21.580958), (6.684841, 26.035735), (4.770174, 22.00475), (2.855508, 17.973765), (4.506067, 17.549973)],
                knots=[0, 0, 0, 2.094395, 2.094395, 4.18879, 4.18879, 6.283185, 6.283185, 6.283185], degree=2, weights=[1, 0.5, 1, 0.5, 1, 0.5, 1]))
        make_face(mode=Mode.SUBTRACT)
        with BuildLine():
            add(Edge.make_bspline(
                [(12.403461, 13.208344), (13.645694, 12.04181), (16.023238, 15.818326), (18.400782, 19.594842), (14.781005, 16.98486), (11.161228, 14.374879), (12.403461, 13.208344)],
                knots=[0, 0, 0, 2.094395, 2.094395, 4.18879, 4.18879, 6.283185, 6.283185, 6.283185], degree=2, weights=[1, 0.5, 1, 0.5, 1, 0.5, 1]))
        make_face(mode=Mode.SUBTRACT)
    extrude(amount=F1_DEPTH)


solid = f1.part
